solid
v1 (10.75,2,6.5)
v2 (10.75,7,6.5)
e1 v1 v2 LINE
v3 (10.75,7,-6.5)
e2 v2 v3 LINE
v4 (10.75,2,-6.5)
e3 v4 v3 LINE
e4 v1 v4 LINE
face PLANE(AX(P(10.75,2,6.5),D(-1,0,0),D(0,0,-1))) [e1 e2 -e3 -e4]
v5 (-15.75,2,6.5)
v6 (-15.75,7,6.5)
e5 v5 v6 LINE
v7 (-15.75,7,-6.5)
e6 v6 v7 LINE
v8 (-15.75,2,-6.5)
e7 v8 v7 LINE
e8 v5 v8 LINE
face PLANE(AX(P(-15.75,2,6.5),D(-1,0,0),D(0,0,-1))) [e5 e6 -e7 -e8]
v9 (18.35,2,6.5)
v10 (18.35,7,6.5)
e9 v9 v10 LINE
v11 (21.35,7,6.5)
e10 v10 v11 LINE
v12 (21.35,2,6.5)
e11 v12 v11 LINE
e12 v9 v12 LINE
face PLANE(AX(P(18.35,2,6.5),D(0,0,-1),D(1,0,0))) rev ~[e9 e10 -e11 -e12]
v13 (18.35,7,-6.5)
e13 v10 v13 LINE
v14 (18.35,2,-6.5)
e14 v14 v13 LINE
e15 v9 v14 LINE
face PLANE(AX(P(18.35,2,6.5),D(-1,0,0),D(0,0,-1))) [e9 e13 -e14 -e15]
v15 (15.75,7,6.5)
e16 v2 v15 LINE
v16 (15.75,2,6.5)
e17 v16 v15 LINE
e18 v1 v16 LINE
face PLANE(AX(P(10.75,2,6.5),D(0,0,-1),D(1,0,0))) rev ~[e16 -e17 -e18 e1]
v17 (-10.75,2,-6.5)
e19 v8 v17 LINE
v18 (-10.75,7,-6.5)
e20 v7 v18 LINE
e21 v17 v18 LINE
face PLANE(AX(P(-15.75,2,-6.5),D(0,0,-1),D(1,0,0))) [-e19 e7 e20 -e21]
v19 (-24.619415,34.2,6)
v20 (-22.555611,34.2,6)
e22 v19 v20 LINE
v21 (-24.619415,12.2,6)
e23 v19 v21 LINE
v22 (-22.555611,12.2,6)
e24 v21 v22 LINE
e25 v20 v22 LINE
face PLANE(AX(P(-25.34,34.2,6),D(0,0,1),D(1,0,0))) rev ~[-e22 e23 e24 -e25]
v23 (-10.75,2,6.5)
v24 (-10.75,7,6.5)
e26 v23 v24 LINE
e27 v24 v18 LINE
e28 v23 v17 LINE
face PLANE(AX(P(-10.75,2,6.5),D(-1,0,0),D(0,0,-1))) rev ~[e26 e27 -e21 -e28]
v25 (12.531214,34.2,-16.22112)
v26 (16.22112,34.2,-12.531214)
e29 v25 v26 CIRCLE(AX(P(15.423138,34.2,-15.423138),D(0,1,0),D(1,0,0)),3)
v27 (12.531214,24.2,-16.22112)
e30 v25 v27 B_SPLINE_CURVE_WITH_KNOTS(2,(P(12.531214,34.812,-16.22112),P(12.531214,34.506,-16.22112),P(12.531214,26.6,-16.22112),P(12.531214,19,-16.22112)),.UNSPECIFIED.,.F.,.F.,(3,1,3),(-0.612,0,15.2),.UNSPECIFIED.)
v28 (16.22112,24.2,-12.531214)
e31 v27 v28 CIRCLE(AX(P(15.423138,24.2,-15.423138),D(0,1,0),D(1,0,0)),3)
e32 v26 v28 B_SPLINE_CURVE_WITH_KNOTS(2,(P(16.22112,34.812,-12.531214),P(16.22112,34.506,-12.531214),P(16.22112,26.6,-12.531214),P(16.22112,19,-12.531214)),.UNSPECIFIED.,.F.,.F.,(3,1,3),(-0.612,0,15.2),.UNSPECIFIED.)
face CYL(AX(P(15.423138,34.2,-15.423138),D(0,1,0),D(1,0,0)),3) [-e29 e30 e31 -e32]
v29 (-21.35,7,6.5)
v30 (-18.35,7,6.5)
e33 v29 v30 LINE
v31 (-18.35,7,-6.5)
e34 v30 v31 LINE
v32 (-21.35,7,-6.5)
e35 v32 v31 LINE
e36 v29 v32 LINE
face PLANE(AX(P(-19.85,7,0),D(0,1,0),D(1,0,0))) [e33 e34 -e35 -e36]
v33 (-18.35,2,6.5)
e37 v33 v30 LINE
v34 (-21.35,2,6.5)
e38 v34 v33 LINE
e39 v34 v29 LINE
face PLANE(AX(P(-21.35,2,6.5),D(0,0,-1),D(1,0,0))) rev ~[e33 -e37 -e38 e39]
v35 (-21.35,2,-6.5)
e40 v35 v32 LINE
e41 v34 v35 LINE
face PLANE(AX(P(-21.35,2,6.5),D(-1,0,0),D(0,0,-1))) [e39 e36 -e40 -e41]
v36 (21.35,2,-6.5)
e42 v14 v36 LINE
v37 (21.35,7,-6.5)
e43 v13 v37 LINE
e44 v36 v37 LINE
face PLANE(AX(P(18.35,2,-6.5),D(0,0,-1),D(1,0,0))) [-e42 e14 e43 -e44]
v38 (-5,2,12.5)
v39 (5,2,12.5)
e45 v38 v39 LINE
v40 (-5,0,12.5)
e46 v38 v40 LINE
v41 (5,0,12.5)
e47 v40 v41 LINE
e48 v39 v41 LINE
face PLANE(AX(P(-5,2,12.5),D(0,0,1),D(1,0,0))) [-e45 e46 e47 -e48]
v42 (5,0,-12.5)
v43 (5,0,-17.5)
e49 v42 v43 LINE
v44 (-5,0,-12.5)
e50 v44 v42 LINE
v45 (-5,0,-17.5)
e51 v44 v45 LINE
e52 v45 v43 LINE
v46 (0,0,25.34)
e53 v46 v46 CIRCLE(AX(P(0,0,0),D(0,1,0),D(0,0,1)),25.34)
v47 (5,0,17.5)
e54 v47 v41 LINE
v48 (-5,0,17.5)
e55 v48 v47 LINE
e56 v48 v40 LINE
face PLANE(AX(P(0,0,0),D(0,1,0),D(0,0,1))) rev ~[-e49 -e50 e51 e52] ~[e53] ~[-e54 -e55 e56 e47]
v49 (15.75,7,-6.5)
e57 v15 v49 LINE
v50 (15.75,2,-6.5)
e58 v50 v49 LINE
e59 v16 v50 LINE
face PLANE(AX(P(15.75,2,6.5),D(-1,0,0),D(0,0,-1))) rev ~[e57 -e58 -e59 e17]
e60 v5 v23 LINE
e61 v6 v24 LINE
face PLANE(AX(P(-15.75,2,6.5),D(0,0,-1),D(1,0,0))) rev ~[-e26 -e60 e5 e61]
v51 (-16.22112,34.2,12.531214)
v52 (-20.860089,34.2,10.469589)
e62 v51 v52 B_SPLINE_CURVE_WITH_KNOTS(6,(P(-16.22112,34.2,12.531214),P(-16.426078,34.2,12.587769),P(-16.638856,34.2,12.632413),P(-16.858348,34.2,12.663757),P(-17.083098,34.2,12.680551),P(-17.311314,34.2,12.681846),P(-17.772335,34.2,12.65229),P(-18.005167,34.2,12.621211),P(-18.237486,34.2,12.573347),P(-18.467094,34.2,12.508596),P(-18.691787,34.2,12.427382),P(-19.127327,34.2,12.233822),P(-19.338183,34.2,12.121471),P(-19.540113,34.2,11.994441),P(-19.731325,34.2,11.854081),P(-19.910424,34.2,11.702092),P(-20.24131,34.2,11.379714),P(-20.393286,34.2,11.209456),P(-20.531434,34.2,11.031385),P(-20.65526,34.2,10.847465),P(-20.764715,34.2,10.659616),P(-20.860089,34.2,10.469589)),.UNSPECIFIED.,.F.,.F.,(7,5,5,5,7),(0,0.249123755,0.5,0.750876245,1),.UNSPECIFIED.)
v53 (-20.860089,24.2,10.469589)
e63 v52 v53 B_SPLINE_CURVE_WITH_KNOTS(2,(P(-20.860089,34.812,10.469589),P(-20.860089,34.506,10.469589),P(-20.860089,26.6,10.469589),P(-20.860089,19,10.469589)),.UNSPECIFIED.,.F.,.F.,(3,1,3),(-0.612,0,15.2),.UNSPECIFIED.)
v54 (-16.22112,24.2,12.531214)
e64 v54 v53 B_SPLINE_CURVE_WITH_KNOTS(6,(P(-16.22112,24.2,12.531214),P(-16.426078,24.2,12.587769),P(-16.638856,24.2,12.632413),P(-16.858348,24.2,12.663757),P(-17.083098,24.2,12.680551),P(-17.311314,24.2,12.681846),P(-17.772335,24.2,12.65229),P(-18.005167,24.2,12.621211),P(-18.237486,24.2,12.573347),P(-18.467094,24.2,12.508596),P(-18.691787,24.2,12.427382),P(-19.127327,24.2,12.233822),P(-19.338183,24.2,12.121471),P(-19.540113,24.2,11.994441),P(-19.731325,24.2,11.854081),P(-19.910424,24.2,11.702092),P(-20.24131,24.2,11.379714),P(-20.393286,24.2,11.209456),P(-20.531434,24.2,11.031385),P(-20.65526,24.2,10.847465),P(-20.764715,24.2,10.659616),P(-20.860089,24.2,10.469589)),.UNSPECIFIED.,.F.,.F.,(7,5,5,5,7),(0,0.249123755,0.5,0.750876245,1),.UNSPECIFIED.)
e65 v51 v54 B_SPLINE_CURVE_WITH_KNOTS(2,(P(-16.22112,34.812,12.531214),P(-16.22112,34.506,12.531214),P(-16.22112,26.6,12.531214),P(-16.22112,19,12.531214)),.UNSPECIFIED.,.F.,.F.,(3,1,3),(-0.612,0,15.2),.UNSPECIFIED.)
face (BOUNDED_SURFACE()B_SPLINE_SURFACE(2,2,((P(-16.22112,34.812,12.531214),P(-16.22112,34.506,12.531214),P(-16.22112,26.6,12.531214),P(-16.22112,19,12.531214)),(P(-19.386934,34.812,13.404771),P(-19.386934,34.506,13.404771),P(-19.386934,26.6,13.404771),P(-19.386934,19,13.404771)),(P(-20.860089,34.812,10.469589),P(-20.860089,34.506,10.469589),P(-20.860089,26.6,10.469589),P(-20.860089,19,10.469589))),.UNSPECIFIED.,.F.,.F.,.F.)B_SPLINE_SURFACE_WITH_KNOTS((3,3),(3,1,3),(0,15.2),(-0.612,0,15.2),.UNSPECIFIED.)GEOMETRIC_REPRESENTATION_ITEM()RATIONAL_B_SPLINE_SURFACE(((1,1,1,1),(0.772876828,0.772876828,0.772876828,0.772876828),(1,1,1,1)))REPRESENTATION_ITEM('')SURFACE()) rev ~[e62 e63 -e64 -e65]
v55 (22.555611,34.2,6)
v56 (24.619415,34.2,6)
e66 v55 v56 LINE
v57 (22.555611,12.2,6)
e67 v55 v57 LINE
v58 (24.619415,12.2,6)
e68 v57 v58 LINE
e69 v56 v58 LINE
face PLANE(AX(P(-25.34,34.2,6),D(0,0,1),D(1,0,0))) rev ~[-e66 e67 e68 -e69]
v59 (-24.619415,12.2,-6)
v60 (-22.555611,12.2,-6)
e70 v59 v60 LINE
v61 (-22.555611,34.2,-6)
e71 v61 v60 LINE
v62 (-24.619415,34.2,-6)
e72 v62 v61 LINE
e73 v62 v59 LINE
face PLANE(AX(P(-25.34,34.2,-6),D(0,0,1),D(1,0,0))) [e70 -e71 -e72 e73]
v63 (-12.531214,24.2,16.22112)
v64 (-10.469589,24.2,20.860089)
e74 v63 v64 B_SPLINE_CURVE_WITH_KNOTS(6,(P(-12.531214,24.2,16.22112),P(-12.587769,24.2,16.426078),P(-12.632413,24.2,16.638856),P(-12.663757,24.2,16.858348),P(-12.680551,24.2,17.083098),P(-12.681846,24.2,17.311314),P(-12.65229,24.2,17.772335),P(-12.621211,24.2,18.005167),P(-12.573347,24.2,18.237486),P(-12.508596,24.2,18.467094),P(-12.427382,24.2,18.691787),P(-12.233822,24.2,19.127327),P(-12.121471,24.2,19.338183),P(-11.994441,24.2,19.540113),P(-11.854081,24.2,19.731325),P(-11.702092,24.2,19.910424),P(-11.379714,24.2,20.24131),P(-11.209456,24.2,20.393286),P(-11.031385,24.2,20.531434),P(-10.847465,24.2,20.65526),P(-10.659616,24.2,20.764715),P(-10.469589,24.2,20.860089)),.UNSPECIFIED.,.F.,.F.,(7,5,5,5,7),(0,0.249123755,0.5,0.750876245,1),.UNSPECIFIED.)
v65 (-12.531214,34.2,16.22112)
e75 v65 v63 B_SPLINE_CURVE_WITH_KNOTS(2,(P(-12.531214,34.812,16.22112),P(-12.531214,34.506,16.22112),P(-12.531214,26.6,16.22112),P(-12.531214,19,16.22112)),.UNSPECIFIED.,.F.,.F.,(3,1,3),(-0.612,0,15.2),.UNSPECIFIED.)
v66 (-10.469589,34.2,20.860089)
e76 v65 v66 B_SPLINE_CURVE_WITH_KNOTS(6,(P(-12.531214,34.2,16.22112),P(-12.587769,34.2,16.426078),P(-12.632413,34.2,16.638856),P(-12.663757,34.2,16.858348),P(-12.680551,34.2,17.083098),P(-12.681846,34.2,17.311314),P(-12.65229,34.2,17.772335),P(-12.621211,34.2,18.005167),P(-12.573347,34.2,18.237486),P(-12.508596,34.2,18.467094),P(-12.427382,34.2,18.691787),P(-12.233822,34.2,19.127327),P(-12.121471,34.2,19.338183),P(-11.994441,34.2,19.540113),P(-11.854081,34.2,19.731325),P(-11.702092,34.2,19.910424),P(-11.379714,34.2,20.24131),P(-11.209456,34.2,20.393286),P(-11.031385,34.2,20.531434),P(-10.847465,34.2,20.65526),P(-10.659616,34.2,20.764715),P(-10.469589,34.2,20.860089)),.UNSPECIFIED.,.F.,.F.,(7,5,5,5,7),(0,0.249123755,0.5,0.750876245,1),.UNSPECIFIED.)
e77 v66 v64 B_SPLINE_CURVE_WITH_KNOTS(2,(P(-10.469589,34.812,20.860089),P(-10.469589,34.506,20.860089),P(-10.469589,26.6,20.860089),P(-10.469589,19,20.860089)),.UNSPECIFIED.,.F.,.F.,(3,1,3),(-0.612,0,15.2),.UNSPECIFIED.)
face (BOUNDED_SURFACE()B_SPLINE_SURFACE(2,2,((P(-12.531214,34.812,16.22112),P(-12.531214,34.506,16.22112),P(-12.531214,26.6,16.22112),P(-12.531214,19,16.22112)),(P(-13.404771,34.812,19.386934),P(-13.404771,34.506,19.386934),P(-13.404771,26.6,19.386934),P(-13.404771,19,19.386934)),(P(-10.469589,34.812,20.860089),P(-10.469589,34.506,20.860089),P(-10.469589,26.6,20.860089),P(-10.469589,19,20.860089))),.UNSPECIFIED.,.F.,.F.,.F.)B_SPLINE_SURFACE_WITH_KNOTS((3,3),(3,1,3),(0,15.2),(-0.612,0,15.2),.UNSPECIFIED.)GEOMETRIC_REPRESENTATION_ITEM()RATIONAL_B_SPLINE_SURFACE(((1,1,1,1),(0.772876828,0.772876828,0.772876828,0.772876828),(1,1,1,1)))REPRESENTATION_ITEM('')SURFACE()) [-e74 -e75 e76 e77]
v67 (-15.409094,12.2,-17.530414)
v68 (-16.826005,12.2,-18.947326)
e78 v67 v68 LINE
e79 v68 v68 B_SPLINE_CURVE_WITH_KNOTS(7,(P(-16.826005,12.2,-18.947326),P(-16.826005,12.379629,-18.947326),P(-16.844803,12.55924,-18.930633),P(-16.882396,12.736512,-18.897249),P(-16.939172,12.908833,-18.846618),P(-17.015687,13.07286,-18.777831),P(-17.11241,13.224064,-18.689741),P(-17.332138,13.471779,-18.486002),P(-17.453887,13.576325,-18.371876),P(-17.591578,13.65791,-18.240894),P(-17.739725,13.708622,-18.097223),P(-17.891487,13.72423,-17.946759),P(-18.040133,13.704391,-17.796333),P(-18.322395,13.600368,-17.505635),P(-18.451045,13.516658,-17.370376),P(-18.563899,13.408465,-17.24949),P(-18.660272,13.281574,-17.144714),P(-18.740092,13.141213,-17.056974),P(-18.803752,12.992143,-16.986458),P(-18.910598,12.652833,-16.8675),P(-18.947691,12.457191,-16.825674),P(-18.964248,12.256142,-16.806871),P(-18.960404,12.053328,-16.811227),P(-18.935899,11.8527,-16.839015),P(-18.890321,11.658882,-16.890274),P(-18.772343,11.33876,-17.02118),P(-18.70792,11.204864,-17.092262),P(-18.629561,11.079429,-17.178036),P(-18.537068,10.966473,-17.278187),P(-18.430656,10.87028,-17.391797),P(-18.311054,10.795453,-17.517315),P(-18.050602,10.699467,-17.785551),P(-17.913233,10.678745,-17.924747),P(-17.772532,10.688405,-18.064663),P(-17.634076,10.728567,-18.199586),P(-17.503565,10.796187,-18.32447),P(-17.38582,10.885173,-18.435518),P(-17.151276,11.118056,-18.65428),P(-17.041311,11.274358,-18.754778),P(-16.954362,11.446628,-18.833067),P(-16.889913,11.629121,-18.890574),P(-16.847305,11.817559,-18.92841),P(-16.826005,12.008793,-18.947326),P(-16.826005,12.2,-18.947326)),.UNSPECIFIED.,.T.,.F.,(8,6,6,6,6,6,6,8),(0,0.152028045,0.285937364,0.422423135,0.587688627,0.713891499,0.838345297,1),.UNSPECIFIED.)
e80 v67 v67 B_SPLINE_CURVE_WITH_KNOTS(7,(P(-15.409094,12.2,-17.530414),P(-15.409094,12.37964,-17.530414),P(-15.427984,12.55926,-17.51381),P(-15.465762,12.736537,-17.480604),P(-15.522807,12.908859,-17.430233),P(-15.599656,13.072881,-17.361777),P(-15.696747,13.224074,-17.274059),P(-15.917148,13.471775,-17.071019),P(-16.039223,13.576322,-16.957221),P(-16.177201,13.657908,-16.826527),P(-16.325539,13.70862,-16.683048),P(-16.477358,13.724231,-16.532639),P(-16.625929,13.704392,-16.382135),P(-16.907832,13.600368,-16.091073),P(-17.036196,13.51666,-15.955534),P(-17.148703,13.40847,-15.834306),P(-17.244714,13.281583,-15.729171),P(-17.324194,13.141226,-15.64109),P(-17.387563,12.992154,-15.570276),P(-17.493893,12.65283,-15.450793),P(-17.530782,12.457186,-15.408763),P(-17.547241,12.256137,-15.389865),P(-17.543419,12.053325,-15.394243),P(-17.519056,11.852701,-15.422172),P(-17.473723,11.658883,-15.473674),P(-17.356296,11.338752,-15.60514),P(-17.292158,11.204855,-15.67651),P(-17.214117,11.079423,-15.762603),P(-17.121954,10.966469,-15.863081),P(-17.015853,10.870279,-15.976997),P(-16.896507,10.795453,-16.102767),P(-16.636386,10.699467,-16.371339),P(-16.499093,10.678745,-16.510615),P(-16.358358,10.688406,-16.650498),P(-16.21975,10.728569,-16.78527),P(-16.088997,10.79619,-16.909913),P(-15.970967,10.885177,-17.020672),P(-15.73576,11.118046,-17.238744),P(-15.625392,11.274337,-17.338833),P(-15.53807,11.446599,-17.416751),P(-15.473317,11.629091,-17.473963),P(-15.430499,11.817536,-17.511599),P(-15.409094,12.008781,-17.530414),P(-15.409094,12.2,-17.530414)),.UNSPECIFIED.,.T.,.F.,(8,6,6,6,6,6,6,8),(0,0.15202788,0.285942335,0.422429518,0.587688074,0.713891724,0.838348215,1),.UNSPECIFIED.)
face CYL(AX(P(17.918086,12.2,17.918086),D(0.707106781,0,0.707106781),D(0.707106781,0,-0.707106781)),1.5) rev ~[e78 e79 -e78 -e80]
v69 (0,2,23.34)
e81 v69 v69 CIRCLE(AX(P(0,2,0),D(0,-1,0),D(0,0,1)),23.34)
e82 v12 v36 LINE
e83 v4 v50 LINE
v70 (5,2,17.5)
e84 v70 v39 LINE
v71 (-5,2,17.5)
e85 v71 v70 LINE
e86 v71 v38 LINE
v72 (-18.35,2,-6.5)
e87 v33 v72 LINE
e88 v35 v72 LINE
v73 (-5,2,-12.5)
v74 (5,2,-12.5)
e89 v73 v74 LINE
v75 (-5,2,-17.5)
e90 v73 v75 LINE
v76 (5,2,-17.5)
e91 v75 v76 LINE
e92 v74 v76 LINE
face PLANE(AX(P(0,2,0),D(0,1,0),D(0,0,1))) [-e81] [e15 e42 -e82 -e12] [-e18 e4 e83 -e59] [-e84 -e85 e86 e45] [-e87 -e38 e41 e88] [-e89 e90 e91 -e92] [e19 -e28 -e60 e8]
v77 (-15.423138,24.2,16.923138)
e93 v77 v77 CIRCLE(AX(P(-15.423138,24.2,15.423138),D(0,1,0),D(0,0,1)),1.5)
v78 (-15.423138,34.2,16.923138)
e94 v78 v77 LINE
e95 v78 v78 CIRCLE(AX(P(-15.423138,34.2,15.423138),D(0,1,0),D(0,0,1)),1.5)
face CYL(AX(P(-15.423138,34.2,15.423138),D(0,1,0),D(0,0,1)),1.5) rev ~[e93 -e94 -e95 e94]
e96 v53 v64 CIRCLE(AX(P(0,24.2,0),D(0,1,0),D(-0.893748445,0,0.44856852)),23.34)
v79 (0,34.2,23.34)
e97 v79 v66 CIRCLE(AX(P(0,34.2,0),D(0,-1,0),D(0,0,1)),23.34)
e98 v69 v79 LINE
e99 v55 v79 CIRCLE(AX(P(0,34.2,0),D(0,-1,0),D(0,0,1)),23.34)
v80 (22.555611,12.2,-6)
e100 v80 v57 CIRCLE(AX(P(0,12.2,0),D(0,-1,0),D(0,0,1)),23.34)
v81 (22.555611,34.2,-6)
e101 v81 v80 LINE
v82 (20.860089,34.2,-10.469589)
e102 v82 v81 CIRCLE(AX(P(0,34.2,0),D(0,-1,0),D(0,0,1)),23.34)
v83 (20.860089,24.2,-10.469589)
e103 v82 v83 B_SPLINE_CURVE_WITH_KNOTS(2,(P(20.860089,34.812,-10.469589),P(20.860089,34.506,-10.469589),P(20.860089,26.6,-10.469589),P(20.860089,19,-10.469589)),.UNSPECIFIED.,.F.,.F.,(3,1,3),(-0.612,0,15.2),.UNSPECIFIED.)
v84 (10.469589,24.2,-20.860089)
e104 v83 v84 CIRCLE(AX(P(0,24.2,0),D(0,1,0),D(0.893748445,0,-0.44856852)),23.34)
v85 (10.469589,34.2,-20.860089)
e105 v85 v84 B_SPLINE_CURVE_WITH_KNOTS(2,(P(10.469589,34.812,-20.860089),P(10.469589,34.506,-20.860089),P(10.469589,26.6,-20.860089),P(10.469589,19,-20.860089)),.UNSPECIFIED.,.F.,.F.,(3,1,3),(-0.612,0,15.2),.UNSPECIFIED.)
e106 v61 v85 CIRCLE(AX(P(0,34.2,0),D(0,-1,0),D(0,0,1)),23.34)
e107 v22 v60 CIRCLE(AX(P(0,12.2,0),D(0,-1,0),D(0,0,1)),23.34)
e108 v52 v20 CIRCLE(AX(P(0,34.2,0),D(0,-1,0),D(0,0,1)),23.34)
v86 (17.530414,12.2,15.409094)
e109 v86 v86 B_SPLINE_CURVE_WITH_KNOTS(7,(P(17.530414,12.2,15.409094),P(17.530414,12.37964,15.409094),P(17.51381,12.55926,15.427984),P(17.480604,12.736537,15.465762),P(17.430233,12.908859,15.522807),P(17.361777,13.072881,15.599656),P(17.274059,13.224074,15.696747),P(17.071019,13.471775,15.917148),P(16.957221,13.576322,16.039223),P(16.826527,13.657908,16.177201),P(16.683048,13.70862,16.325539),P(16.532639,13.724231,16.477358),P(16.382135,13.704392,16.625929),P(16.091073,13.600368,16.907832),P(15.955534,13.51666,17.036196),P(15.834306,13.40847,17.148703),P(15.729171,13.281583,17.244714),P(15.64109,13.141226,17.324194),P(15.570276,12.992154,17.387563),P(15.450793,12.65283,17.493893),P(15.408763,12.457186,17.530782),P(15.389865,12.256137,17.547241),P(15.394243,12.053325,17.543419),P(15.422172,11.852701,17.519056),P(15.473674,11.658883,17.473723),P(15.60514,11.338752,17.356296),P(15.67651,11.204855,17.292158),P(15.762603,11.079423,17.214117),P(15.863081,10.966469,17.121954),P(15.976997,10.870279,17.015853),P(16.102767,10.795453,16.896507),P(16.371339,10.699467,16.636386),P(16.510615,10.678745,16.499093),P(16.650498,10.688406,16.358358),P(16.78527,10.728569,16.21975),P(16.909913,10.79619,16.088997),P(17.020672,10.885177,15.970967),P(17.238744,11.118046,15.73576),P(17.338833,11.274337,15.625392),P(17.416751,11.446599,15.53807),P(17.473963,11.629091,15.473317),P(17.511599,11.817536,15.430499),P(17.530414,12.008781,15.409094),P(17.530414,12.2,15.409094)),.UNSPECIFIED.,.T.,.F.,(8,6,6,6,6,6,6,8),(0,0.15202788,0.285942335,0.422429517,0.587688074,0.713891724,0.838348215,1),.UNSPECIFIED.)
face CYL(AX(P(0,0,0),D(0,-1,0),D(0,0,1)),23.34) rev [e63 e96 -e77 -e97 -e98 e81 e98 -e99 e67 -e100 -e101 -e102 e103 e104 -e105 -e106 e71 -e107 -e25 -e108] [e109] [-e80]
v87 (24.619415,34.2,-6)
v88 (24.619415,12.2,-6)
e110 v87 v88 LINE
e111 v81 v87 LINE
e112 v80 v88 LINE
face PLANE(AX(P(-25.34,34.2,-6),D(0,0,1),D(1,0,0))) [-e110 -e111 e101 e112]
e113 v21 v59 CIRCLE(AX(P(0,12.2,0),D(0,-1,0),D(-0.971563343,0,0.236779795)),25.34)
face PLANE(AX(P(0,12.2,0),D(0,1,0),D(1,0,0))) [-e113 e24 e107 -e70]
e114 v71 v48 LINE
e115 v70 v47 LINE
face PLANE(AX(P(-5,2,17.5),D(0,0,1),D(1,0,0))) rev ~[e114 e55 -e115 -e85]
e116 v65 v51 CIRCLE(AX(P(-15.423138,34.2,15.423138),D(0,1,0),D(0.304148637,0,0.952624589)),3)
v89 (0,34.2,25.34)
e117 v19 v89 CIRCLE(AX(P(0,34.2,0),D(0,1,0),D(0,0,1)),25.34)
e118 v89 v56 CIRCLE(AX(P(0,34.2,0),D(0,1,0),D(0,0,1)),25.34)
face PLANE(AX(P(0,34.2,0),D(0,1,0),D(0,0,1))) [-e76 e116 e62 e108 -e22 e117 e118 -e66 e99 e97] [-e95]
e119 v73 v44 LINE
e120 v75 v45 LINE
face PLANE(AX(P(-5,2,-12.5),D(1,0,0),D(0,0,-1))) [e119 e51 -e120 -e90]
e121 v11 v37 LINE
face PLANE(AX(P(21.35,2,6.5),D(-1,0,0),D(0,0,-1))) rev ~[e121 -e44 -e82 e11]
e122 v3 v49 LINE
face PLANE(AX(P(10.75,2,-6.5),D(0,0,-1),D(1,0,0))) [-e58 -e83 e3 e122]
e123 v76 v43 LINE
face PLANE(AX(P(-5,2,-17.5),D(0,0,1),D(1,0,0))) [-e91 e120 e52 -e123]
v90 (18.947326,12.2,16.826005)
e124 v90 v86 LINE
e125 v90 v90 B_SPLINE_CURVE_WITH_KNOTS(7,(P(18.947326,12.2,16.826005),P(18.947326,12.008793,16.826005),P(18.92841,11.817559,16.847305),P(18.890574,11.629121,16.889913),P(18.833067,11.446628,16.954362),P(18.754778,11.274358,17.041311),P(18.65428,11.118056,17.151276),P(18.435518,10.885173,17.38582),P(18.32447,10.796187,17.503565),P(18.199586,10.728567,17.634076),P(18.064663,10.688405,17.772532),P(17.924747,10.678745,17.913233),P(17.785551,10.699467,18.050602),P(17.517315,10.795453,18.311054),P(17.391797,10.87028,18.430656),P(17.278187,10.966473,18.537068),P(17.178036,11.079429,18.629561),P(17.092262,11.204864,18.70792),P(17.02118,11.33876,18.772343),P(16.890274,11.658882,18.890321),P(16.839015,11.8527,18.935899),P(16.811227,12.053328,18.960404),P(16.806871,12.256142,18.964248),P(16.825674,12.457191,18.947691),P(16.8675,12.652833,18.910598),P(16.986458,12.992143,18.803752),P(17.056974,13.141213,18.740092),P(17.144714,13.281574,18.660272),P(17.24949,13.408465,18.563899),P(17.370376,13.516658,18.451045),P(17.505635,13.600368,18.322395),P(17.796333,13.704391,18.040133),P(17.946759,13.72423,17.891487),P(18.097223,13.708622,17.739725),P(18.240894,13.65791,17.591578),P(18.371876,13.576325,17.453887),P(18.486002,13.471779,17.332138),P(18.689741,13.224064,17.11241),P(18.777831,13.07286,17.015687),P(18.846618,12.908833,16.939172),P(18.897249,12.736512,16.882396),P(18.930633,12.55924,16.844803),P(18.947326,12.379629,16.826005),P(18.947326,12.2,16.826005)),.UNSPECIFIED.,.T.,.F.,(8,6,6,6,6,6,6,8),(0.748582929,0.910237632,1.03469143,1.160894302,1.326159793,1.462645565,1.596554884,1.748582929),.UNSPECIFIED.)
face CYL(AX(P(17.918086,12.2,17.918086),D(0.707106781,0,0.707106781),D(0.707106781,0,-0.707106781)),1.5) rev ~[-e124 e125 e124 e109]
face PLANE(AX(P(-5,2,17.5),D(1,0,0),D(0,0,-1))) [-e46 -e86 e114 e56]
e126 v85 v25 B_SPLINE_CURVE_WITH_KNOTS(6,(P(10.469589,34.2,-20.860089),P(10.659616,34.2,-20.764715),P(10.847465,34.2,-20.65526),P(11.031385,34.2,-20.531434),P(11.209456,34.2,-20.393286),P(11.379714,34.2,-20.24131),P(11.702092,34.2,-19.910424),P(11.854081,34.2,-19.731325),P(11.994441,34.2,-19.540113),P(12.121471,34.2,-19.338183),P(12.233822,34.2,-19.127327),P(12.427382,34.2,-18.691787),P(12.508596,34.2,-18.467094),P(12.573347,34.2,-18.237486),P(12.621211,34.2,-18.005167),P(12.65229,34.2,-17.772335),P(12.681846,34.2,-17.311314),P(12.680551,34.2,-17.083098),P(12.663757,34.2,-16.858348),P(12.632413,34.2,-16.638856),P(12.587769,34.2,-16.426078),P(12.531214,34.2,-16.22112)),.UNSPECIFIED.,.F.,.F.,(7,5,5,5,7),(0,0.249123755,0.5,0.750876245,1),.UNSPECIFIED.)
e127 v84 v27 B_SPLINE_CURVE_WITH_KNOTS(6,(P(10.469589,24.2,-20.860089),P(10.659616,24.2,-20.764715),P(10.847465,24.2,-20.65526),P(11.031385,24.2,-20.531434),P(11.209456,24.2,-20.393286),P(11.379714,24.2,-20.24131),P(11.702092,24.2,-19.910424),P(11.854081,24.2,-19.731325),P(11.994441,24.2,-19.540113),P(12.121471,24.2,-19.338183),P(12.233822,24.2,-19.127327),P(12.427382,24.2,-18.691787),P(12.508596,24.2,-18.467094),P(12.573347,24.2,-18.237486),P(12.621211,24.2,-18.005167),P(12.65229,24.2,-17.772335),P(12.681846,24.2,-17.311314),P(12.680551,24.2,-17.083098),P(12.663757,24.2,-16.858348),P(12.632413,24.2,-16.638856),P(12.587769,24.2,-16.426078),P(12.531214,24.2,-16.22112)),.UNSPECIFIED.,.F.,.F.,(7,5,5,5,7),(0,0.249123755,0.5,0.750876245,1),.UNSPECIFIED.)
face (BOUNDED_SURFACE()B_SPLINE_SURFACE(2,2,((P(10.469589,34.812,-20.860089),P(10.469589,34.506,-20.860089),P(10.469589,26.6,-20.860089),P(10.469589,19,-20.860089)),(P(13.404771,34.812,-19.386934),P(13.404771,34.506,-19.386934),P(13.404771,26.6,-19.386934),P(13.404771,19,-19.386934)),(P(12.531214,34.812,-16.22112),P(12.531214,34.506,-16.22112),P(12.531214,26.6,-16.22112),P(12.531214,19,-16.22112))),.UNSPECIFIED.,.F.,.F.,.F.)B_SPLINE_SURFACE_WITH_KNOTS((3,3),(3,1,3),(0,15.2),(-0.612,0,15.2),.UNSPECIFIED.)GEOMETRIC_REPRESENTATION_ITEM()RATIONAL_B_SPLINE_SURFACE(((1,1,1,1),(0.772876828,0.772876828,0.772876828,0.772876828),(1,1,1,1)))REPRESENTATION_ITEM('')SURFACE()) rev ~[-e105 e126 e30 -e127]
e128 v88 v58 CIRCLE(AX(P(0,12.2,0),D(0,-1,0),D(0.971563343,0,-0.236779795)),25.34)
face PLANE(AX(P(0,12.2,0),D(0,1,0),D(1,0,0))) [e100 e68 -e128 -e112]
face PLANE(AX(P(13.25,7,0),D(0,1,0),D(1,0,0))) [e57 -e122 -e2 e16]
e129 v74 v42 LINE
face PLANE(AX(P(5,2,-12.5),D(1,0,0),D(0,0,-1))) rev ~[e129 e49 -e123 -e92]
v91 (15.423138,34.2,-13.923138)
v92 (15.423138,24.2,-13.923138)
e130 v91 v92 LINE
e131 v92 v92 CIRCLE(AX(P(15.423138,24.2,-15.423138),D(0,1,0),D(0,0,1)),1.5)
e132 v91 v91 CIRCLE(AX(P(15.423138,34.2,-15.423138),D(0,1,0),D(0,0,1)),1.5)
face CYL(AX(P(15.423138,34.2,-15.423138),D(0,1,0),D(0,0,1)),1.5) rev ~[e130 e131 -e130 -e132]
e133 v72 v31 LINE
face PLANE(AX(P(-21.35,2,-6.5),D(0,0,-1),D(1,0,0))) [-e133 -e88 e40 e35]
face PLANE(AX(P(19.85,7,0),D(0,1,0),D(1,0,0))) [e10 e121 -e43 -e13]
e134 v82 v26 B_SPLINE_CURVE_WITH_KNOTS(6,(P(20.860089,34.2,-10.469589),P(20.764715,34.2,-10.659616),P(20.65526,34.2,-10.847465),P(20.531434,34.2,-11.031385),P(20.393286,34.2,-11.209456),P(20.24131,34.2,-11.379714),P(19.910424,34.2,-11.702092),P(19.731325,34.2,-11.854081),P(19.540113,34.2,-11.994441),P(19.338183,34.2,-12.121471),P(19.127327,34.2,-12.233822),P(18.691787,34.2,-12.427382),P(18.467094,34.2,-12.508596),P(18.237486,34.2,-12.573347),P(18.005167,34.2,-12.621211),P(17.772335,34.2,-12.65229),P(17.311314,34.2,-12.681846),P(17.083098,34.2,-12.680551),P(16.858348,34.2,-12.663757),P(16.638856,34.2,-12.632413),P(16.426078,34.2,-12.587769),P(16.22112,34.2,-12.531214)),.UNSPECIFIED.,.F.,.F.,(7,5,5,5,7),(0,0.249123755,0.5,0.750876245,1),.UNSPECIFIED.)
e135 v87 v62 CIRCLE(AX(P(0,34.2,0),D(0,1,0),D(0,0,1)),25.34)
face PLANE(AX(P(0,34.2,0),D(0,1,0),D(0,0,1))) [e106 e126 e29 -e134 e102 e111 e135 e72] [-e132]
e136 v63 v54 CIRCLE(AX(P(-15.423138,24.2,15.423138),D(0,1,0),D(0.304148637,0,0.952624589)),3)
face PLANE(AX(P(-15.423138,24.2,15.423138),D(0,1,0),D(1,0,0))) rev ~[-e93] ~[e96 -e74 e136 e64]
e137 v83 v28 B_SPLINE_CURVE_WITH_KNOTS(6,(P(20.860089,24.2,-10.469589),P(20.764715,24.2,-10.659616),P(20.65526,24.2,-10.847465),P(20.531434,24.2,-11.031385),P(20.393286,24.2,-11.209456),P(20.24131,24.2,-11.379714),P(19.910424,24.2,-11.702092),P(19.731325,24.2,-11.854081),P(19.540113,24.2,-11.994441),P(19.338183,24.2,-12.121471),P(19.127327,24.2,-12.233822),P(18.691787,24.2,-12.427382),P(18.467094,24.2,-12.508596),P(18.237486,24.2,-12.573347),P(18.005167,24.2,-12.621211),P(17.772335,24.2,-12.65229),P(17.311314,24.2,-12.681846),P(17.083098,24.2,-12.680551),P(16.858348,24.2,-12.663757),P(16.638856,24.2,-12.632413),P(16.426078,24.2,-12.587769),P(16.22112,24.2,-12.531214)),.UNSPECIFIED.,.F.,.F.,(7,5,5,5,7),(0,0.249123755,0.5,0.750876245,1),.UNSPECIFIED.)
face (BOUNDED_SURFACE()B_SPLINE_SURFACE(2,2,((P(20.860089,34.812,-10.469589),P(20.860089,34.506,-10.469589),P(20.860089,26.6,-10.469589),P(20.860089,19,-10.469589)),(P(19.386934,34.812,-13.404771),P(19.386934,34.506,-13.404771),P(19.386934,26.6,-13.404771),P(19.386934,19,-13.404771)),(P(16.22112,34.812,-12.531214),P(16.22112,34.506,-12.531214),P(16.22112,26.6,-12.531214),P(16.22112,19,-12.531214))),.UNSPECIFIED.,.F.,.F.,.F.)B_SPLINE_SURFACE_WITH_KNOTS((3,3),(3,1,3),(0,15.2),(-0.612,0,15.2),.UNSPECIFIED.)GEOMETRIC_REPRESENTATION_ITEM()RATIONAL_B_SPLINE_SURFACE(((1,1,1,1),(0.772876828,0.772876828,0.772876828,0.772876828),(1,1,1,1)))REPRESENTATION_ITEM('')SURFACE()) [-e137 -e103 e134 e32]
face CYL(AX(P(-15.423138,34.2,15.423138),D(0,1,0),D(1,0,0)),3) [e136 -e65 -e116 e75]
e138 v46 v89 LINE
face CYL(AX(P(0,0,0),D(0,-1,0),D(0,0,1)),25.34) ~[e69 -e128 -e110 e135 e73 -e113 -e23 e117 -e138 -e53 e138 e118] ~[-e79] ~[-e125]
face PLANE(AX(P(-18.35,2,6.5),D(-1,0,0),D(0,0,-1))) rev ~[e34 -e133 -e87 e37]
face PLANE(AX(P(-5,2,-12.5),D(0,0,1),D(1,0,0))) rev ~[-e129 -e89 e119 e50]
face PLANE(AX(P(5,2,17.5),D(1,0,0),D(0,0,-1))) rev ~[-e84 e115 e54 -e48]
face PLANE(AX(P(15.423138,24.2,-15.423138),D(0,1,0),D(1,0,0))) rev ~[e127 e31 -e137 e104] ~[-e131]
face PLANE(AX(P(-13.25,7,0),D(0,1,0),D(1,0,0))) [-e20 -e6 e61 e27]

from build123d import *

# Parameters (mm, degrees)
SKETCH1_R           = 25.34
BOSS_EXTRUDE1_DEPTH = 34.2
SHELL1_T            = -2
SKETCH2_W           = 50.68
SKETCH2_H           = 12
CUT_EXTRUDE1_DEPTH  = 22
SKETCH3_W           = 5
SKETCH3_H           = 13
SKETCH3_W_2         = 3
BOSS_EXTRUDE2_DEPTH = 5
SKETCH4_R           = 3
SKETCH4_R_2         = 1.5
BOSS_EXTRUDE3_DEPTH = 10
FILLET1_R           = 4
SKETCH6_R           = 1.5
CUT_EXTRUDE2_DEPTH  = 71.08683178
SKETCH7_W           = 10
SKETCH7_H           = 5
CUT_EXTRUDE3_DEPTH  = 49.177496994


with BuildPart() as part:
    # Sketch1 → Boss-Extrude1 (new body)
    with BuildSketch(Plane(origin=(0, 0, 0), x_dir=(1, 0, 0), z_dir=(0, 1, 0))):
        with Locations(Location((0, 0, 0), (0, 0, 270))):
            Circle(SKETCH1_R)
    extrude(amount=BOSS_EXTRUDE1_DEPTH)

    # Shell1
    shell1_openings = [part.faces().sort_by_distance(p)[0] for p in [
        (0, 34.2, 0),
    ]]
    offset(amount=SHELL1_T, openings=shell1_openings, kind=Kind.INTERSECTION)

    # Sketch2 → Cut-Extrude1 (cut)
    with BuildSketch(Plane(origin=(0, 34.2, 0), x_dir=(1, 0, 0), z_dir=(0, 1, 0))):
        Rectangle(SKETCH2_W, SKETCH2_H)
    extrude(amount=-CUT_EXTRUDE1_DEPTH, mode=Mode.SUBTRACT)

    # Sketch3 → Boss-Extrude2 (add)
    with BuildSketch(Plane(origin=(0, 2, 0), x_dir=(1, 0, 0), z_dir=(0, 1, 0))):
        with Locations((13.25, 0)):
            Rectangle(SKETCH3_W, SKETCH3_H)
        with Locations((19.85, 0)):
            Rectangle(SKETCH3_W_2, SKETCH3_H)
        with Locations((-19.85, 0)):
            Rectangle(SKETCH3_W_2, SKETCH3_H)
        with Locations((-13.25, 0)):
            Rectangle(SKETCH3_W, SKETCH3_H)
    extrude(amount=BOSS_EXTRUDE2_DEPTH)

    # Sketch4 → Boss-Extrude3 (add)
    with BuildSketch(Plane(origin=(0, 34.2, 0), x_dir=(1, 0, 0), z_dir=(0, 1, 0))):
        with Locations((15.423138364, 15.423138364)):
            Circle(SKETCH4_R)
        with Locations(Location((15.423138364, 15.423138364, 0), (0, 0, 270))):
            Circle(SKETCH4_R_2, mode=Mode.SUBTRACT)
        with Locations((-15.423138364, -15.423138364)):
            Circle(SKETCH4_R)
        with Locations(Location((-15.423138364, -15.423138364, 0), (0, 0, 270))):
            Circle(SKETCH4_R_2, mode=Mode.SUBTRACT)
    extrude(amount=-BOSS_EXTRUDE3_DEPTH)

    # Fillet1
    fillet1_edges = [part.edges().sort_by_distance(p)[0] for p in [
        (-14.510692455, 29.2, 18.28101213),
        (-18.28101213, 29.2, 14.510692455),
        (14.510692455, 29.2, -18.28101213),
        (18.28101213, 29.2, -14.510692455),
    ]]
    fillet(fillet1_edges, radius=FILLET1_R)

    # Sketch6 → Cut-Extrude2 (cut, through all)
    with BuildSketch(Plane(origin=(17.918085835, 34.2, 17.918085835), x_dir=(0.7071067811865487, 0, -0.7071067811865464), z_dir=(0.7071067811865464, 0, 0.7071067811865487))):
        with Locations((0, -22)):
            Circle(SKETCH6_R)
    extrude(amount=-CUT_EXTRUDE2_DEPTH, mode=Mode.SUBTRACT)

    # Sketch7 → Cut-Extrude3 (cut, through all)
    with BuildSketch(Plane(origin=(0, 2, 0), x_dir=(1, 0, 0), z_dir=(0, 1, 0))):
        with Locations((0, 15)):
            Rectangle(SKETCH7_W, SKETCH7_H)
        with Locations((0, -15)):
            Rectangle(SKETCH7_W, SKETCH7_H)
    extrude(amount=-CUT_EXTRUDE3_DEPTH, mode=Mode.SUBTRACT)


solid = part.part
